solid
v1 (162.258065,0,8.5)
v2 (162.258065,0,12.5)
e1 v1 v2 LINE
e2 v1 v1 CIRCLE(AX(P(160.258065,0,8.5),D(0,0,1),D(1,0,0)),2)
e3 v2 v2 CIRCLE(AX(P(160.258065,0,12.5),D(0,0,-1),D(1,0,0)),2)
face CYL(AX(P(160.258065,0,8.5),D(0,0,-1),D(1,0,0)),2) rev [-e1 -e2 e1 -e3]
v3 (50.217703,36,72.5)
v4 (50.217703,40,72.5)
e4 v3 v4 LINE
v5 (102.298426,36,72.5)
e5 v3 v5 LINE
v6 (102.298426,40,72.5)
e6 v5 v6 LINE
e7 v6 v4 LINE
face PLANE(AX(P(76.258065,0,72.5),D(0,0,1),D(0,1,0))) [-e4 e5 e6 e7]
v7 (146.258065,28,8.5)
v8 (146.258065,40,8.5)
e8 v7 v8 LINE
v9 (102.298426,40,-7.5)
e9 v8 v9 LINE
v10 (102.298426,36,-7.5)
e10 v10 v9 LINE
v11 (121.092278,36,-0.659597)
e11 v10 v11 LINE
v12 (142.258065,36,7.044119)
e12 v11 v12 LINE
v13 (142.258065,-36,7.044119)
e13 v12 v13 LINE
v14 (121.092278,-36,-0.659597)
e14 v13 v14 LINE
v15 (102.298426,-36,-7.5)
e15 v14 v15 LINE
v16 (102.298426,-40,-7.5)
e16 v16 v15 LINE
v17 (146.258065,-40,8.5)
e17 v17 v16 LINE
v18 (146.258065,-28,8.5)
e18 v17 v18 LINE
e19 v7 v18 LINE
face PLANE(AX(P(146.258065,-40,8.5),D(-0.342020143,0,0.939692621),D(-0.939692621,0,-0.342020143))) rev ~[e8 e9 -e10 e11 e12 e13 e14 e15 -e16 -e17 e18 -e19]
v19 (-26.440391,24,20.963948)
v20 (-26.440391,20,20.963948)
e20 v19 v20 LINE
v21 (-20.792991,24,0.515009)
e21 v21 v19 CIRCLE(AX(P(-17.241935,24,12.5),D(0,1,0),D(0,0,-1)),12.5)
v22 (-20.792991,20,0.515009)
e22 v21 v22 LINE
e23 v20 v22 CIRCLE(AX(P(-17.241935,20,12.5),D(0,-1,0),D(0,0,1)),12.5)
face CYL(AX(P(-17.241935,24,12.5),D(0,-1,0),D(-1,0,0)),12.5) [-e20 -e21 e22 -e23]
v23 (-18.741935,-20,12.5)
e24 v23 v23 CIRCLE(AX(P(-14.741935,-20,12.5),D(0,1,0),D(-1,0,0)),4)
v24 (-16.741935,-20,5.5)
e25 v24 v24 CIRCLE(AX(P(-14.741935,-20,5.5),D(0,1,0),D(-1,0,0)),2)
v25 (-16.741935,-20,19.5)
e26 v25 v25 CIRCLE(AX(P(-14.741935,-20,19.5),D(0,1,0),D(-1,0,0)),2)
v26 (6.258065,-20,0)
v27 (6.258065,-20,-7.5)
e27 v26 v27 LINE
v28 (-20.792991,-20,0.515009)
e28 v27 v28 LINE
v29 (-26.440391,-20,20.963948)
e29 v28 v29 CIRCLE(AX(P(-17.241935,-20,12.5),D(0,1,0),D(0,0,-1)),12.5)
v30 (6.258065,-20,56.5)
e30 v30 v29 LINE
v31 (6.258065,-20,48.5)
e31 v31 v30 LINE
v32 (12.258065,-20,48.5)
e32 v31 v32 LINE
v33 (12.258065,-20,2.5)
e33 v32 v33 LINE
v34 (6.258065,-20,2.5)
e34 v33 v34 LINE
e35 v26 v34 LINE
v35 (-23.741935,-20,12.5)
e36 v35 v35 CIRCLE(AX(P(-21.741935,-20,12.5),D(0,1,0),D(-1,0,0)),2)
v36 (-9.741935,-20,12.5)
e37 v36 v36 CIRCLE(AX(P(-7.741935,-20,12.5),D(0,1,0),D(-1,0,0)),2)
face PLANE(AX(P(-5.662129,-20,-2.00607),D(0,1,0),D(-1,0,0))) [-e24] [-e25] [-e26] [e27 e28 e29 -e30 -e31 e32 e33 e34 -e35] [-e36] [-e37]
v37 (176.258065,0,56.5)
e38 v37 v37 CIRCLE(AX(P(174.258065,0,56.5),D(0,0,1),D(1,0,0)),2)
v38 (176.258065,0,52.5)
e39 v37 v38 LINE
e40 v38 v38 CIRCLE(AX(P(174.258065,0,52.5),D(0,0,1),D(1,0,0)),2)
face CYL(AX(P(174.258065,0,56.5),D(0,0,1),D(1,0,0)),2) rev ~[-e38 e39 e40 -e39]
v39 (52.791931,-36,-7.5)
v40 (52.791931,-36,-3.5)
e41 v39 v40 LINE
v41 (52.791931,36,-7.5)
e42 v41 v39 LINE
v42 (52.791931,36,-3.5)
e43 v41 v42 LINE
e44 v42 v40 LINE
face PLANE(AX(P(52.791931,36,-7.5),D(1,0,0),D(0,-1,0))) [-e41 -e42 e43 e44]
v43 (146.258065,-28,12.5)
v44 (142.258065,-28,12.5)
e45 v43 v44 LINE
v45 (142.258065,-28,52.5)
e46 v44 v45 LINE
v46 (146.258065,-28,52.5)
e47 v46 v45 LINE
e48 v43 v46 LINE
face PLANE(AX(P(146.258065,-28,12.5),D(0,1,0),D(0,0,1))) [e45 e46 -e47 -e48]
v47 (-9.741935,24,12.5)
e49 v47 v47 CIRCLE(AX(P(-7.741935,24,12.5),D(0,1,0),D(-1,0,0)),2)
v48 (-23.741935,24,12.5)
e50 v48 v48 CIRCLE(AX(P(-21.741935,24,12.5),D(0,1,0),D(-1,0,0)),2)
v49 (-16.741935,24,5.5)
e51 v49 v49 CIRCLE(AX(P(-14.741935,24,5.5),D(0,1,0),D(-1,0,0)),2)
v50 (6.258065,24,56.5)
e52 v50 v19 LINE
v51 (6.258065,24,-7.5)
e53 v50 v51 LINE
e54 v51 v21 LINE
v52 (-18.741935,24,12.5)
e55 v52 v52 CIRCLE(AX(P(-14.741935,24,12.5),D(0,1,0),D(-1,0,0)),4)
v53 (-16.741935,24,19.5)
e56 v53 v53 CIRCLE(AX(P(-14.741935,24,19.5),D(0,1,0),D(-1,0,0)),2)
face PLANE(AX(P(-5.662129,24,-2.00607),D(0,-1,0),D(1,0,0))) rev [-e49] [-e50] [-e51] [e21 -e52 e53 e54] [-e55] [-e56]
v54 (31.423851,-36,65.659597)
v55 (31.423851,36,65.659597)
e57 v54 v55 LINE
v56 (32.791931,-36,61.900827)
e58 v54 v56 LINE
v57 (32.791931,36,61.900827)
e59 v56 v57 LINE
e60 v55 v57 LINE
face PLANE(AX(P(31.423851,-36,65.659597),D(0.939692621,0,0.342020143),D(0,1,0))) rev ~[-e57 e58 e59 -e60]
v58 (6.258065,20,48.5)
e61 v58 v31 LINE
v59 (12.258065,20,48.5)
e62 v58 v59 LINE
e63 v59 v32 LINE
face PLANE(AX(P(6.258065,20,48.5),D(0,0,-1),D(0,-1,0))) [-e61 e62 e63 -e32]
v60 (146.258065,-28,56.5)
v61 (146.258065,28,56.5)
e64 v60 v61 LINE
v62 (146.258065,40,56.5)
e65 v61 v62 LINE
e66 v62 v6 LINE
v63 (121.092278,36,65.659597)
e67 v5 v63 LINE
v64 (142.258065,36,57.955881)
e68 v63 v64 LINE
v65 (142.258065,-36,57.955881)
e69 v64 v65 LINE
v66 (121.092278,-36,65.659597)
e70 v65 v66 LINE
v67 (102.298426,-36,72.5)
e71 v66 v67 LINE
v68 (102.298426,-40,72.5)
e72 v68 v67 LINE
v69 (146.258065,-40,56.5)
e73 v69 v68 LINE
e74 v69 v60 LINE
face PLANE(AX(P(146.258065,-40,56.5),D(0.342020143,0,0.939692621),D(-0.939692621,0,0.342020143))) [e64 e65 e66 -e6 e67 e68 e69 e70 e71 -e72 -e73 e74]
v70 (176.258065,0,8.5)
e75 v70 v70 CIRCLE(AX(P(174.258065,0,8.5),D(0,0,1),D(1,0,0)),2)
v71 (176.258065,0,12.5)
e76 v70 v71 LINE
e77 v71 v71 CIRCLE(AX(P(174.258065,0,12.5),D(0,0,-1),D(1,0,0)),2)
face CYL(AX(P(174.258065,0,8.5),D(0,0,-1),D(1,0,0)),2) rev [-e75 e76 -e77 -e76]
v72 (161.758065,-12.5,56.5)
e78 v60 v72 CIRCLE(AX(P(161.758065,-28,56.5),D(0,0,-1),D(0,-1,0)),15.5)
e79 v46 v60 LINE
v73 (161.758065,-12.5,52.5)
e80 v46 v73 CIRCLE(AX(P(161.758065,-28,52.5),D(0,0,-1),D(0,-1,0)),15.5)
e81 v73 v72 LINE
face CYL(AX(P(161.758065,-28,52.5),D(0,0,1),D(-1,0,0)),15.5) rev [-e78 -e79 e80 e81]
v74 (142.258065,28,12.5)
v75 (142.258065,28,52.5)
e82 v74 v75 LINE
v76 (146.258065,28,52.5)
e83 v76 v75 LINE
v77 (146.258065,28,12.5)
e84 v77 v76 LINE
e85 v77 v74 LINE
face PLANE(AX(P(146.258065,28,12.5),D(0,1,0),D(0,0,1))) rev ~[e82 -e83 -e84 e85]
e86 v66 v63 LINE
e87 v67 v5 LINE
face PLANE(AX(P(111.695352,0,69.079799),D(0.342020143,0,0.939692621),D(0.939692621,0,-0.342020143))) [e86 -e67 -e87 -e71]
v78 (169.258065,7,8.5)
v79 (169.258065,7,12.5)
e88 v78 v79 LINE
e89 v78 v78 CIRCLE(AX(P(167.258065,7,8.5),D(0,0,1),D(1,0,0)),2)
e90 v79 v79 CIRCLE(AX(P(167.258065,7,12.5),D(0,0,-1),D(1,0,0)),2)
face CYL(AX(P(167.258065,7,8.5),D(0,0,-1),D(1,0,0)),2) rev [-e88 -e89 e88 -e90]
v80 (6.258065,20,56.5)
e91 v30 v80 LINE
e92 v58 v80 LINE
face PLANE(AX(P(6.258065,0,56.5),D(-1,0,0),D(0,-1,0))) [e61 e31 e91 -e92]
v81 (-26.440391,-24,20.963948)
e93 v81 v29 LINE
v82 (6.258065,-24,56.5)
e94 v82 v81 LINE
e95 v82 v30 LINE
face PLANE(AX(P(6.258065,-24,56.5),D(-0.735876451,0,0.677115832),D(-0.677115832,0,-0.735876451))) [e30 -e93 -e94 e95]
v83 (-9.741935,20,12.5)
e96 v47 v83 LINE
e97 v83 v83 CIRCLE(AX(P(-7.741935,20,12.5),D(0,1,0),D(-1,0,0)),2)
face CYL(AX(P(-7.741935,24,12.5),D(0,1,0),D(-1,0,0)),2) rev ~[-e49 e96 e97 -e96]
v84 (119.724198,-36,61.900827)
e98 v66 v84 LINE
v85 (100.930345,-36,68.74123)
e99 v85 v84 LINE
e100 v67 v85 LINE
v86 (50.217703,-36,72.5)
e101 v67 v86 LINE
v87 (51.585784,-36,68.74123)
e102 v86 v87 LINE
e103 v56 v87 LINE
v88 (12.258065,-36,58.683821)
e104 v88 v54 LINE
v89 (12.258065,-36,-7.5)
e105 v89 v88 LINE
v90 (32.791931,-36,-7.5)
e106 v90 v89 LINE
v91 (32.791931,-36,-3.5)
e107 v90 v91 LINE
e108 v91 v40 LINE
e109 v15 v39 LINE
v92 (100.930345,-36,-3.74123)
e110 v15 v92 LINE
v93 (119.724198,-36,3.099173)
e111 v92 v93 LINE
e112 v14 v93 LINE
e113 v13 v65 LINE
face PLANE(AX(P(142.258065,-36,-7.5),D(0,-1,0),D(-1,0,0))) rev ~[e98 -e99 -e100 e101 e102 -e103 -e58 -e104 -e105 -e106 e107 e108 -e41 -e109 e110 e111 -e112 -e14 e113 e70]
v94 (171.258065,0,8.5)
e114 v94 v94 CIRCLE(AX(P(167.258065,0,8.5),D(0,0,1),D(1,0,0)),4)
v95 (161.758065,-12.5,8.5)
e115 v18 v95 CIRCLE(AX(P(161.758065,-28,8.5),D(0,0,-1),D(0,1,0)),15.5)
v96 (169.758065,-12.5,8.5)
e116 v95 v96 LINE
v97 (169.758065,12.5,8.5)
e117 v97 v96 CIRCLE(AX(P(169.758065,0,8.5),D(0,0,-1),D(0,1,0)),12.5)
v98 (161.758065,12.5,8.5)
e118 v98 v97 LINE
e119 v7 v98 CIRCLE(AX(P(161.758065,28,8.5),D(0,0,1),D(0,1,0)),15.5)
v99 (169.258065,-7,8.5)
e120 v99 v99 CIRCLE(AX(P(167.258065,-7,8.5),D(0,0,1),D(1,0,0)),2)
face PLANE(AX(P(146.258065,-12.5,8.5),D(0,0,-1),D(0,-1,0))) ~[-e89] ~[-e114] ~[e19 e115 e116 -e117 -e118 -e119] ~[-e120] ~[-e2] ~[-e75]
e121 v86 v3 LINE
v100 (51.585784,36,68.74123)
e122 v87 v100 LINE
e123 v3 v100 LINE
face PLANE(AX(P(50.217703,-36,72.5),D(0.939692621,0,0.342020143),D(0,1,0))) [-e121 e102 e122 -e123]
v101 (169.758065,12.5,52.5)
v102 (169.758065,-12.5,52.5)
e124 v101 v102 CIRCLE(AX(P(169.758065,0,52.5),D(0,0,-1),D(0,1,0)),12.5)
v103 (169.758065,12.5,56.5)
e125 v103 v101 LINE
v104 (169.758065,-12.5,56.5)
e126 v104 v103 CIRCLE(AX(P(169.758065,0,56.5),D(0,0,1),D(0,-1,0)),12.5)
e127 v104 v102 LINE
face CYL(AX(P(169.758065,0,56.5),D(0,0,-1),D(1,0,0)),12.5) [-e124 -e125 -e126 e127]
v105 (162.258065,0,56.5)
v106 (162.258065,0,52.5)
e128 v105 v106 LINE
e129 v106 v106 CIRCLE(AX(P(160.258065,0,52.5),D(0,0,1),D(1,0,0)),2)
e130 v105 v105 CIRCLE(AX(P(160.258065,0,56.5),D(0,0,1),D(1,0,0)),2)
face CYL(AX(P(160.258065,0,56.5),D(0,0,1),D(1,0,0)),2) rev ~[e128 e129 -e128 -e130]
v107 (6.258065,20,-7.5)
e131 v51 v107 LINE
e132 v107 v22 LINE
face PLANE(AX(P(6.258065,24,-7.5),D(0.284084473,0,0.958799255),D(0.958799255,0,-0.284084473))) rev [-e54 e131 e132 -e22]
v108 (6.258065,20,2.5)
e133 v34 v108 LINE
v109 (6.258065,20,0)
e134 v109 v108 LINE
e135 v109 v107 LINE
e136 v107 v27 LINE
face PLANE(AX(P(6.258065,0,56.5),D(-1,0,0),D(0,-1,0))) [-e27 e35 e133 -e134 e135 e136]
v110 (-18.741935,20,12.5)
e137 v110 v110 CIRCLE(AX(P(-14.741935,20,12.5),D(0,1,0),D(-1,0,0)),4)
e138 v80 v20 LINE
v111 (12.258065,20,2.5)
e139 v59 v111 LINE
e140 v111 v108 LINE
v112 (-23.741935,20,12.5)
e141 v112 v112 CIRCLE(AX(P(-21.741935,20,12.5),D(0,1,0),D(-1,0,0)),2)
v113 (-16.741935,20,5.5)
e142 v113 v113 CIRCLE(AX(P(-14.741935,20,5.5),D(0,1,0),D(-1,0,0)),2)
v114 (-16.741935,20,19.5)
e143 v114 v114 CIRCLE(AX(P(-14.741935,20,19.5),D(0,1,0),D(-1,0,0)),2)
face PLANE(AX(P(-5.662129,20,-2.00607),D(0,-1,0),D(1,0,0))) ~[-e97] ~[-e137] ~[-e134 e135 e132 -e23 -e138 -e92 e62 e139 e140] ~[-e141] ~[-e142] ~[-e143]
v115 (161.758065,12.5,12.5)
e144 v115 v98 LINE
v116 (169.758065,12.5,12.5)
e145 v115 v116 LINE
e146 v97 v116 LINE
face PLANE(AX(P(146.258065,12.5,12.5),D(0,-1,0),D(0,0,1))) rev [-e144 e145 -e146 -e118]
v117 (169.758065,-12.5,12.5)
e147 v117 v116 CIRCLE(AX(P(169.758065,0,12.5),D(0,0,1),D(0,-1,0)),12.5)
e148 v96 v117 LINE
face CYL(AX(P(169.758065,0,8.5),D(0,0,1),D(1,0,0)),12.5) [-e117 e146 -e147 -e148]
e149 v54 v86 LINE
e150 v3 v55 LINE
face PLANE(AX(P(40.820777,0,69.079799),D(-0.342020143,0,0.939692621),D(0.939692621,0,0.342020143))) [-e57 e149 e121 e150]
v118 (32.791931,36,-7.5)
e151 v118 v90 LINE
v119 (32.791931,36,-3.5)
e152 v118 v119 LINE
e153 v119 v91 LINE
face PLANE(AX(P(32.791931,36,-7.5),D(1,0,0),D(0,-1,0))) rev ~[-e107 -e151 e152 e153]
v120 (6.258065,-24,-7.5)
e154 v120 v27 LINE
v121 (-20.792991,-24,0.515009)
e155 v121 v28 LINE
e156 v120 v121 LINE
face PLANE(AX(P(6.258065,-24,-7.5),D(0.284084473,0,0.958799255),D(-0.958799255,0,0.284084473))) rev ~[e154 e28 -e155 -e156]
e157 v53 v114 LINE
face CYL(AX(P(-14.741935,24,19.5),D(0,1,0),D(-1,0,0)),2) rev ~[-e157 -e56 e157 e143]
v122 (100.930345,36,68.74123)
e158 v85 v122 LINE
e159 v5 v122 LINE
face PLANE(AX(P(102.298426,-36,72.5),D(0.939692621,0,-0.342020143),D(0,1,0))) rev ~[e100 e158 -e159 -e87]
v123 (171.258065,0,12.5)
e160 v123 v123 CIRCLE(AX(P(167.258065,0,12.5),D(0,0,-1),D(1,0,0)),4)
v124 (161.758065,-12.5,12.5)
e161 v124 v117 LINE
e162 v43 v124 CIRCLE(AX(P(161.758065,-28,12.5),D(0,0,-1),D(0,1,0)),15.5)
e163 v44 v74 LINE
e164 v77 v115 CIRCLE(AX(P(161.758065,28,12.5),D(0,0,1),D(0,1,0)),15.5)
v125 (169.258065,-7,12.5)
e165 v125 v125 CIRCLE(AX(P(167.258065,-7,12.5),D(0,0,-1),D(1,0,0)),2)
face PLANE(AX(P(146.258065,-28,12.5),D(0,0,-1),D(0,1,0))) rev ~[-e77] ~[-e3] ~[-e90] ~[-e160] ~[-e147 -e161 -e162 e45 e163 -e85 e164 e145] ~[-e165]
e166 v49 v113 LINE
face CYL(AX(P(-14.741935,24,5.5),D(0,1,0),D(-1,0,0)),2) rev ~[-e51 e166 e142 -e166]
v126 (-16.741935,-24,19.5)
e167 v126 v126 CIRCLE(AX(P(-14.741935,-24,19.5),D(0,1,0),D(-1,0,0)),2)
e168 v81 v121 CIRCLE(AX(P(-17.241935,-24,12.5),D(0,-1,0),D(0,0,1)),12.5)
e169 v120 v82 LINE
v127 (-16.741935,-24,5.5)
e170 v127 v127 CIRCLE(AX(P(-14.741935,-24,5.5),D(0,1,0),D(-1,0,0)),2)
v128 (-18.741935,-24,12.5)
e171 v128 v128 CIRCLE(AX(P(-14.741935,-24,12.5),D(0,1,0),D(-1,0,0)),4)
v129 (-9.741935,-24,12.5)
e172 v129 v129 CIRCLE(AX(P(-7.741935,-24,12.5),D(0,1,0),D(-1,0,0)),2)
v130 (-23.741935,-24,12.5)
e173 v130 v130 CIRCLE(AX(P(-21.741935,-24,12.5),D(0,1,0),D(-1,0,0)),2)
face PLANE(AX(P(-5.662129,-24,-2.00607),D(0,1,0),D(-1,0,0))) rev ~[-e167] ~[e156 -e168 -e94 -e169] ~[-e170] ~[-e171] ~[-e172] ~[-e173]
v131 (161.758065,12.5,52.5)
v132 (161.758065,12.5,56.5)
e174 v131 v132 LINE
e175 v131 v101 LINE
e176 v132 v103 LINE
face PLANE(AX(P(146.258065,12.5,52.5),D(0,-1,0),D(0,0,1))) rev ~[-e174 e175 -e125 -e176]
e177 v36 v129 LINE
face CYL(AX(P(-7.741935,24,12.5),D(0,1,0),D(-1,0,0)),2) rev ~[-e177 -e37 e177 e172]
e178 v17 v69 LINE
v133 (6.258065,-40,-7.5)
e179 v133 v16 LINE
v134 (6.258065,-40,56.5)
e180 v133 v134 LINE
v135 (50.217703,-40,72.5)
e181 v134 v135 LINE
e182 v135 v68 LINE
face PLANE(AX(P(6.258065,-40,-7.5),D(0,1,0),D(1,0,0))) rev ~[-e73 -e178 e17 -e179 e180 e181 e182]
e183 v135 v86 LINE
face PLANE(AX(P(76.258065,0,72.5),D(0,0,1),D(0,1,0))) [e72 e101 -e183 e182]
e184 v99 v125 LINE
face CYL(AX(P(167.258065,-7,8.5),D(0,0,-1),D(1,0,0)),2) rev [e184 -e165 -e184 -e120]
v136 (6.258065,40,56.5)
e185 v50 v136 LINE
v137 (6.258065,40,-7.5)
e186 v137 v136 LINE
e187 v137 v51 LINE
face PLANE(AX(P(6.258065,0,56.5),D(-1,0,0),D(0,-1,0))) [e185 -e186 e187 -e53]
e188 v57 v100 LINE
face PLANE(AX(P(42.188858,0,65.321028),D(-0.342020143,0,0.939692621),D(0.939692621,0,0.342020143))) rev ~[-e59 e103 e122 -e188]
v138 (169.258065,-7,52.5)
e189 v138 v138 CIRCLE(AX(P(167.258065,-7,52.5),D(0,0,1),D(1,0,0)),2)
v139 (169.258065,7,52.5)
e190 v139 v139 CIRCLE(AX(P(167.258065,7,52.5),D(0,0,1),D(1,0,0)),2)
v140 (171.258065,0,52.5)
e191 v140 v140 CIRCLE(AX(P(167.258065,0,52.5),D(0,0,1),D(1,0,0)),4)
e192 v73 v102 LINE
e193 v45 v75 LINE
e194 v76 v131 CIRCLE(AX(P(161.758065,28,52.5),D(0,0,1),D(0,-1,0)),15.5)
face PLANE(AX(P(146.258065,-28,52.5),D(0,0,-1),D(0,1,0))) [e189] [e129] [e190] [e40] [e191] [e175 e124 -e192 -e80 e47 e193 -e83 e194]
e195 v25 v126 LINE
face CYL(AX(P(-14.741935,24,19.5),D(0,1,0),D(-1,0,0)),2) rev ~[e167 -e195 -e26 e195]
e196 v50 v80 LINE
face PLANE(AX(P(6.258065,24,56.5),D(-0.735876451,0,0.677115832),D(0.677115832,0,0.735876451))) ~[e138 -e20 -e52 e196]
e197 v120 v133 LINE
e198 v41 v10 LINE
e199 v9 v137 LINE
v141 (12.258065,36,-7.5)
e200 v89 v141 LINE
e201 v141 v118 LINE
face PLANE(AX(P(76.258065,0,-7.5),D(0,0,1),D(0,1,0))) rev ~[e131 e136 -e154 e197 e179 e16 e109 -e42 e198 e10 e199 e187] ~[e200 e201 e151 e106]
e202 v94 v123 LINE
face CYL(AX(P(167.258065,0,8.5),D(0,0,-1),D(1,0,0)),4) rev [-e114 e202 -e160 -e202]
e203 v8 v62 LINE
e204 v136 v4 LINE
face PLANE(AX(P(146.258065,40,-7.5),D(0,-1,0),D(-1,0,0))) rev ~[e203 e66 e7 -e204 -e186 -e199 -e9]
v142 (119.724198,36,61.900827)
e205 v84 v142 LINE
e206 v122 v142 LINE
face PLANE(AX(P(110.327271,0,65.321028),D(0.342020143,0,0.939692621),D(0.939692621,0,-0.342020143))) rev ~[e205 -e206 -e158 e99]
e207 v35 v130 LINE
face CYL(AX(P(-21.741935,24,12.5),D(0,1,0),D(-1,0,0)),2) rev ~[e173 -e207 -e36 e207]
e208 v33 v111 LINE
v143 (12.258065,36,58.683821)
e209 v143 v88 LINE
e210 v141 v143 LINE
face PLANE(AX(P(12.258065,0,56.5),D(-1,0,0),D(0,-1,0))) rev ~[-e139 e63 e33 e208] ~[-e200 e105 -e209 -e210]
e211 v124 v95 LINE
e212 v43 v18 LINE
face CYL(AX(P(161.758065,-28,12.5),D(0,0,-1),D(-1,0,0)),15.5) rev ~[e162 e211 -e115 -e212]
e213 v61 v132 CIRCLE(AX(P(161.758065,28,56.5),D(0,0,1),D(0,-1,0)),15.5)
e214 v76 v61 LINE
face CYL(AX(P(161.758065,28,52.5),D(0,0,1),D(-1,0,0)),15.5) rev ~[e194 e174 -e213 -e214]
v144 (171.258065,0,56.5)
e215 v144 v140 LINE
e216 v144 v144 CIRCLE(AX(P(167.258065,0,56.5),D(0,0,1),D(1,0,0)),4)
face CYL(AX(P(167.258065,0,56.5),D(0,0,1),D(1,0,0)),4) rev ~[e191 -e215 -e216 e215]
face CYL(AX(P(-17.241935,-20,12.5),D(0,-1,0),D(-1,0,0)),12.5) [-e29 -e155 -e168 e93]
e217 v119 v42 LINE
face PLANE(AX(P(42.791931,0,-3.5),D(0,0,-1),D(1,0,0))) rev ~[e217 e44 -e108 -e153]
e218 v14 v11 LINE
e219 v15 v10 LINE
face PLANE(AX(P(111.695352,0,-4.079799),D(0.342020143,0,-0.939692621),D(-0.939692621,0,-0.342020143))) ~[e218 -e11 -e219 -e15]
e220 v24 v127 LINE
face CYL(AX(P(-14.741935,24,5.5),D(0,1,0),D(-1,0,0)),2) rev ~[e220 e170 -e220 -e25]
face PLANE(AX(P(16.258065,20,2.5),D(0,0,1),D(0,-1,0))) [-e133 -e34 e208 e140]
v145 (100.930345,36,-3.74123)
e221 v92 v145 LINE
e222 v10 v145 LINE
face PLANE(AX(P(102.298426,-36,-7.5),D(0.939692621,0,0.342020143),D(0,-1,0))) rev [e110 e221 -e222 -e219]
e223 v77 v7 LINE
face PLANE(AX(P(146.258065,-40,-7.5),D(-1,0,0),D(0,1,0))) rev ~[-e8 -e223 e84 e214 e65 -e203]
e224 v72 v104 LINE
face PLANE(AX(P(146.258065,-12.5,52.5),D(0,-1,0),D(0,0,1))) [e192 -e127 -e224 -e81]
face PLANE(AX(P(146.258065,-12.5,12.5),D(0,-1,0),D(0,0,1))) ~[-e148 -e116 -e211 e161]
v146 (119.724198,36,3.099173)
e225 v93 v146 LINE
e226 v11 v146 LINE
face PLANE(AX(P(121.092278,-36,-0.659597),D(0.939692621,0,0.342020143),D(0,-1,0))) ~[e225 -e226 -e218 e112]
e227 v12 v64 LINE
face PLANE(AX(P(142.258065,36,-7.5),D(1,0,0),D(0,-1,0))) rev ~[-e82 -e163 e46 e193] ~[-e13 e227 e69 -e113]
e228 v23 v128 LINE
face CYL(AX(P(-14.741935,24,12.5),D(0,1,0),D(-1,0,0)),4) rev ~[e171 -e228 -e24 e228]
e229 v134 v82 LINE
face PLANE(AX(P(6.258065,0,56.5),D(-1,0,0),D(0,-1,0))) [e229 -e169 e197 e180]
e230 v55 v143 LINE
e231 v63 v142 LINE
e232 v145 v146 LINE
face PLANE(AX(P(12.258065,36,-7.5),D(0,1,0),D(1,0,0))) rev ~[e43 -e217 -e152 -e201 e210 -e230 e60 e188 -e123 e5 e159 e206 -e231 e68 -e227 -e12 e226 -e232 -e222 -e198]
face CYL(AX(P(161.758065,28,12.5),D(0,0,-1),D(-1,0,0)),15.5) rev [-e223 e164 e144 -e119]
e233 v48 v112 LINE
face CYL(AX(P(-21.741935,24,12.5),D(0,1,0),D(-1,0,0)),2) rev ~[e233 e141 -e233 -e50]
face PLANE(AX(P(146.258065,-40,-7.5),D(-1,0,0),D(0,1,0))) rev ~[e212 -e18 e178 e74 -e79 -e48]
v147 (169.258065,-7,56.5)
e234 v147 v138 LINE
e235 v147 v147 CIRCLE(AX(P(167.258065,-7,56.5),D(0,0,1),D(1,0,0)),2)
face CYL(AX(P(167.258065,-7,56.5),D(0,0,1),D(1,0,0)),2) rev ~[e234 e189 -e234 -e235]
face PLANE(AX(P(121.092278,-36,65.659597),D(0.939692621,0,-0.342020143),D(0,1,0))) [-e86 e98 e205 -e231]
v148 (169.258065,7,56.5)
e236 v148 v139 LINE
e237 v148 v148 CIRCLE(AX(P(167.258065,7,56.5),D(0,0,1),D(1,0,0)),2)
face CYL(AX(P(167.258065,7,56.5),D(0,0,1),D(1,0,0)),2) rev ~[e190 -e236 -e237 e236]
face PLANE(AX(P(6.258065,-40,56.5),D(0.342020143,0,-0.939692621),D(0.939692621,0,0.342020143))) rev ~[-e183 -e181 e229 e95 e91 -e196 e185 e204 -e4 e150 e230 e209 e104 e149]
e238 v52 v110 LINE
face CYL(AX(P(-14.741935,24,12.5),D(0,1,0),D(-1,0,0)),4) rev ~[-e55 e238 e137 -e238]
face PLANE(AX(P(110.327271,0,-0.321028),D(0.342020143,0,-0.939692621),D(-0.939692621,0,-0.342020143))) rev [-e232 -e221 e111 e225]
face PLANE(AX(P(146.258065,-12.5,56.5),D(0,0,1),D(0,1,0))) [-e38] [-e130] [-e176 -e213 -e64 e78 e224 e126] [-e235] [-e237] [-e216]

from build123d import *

# Parameters (mm, degrees)
SALIENTE_EXTRUIR1_DEPTH         = 25
CORTAR_EXTRUIR1_REACH           = 63.754
CROQUIS3_R                      = 4
CROQUIS3_R_2                    = 2
CROQUIS4_W                      = 32
CROQUIS4_H                      = 24.152956225
CORTAR_EXTRUIR2_DEPTH           = 40
SALIENTE_EXTRUIR3_DEPTH         = 72.5
SALIENTE_EXTRUIR3_DEPTH_BACK    = 7.5
CORTAR_EXTRUIR4_DEPTH           = 10
CORTAR_EXTRUIR4_DEPTH_BACK      = 10
CROQUIS8_W                      = 40
CROQUIS8_H                      = 62
REDONDEO1_RADIUS                = 12.5
REDONDEO1_LENGTH                = 4
REDONDEO2_RADIUS                = 12.5
REDONDEO2_LENGTH                = 4
CROQUIS9_W                      = 25
CROQUIS9_H                      = 4
SALIENTE_EXTRUIR4_DEPTH         = 36
CROQUIS10_R                     = 4
CROQUIS10_R_2                   = 2
CORTAR_EXTRUIR5_DEPTH           = 36
REDONDEO3_RADIUS                = 12.5
REDONDEO3_LENGTH                = 4
REDONDEO3_OF_SIMETR_A1_2_RADIUS = 12.5
REDONDEO3_OF_SIMETR_A1_2_LENGTH = 4
CROQUIS11_W                     = 56
CROQUIS11_H                     = 40
CORTAR_EXTRUIR6_DEPTH           = 36
CROQUIS16_W                     = 40
CROQUIS16_H                     = 16
SALIENTE_EXTRUIR6_DEPTH         = 6
CORTAR_EXTRUIR7_REACH           = 213.835
CROQUIS17_W                     = 20
CROQUIS17_H                     = 72
SALIENTE_EXTRUIR7_DEPTH         = 4
SALIENTE_EXTRUIR8_DEPTH         = 4
CROQUIS23_W                     = 7.762522615
CROQUIS23_H                     = 40
CORTAR_EXTRUIR8_DEPTH           = 10
CROQUIS20_W                     = 20
CROQUIS20_H                     = 72
SALIENTE_EXTRUIR9_DEPTH         = 4
REDONDEO4_R                     = 15.5
CROQUIS24_W                     = 20
CROQUIS24_H                     = 72
SALIENTE_EXTRUIR10_DEPTH        = 4


with BuildPart() as part:
    # Croquis2 → Saliente-Extruir1 (new body)
    with BuildSketch(Plane(origin=(0, 0, 0), x_dir=(0, 1, 0), z_dir=(0, 0, 1))):
        Polygon((-20, 29.741935484), (-24, 29.741935484), (-24, -6.258064516), (24, -6.258064516), (24, 29.741935484), (20, 29.741935484), (20, -4.258064516), (-20, -4.258064516), align=None)
    extrude(amount=SALIENTE_EXTRUIR1_DEPTH)

    # Cortar-Extruir1: up to this face of the body (flat: up to its plane)
    cortar_extruir1_end = Plane(part.part.faces().sort_by_distance((-11.741935484, -24, 12.5))[0])
    # Croquis3 → Cortar-Extruir1 (cut, up to the picked face)
    with BuildSketch(Plane(origin=(0, 24, 0), x_dir=(-1, 0, 0), z_dir=(0, 1, 0)), mode=Mode.PRIVATE) as cortar_extruir1_sk1:
        with Locations((14.741935484, 12.5)):
            Circle(CROQUIS3_R)
    cortar_extruir1_tool1 = split(extrude(cortar_extruir1_sk1.sketch, amount=-CORTAR_EXTRUIR1_REACH, mode=Mode.PRIVATE), bisect_by=cortar_extruir1_end, keep=Keep.BOTH, mode=Mode.PRIVATE)
    # Croquis3 → Cortar-Extruir1 (cut, up to the picked face)
    with BuildSketch(Plane(origin=(0, 24, 0), x_dir=(-1, 0, 0), z_dir=(0, 1, 0)), mode=Mode.PRIVATE) as cortar_extruir1_sk2:
        with Locations((14.741935484, 19.5)):
            Circle(CROQUIS3_R_2)
    cortar_extruir1_tool2 = split(extrude(cortar_extruir1_sk2.sketch, amount=-CORTAR_EXTRUIR1_REACH, mode=Mode.PRIVATE), bisect_by=cortar_extruir1_end, keep=Keep.BOTH, mode=Mode.PRIVATE)
    # Croquis3 → Cortar-Extruir1 (cut, up to the picked face)
    with BuildSketch(Plane(origin=(0, 24, 0), x_dir=(-1, 0, 0), z_dir=(0, 1, 0)), mode=Mode.PRIVATE) as cortar_extruir1_sk3:
        with Locations((21.741935484, 12.5)):
            Circle(CROQUIS3_R_2)
    cortar_extruir1_tool3 = split(extrude(cortar_extruir1_sk3.sketch, amount=-CORTAR_EXTRUIR1_REACH, mode=Mode.PRIVATE), bisect_by=cortar_extruir1_end, keep=Keep.BOTH, mode=Mode.PRIVATE)
    # Croquis3 → Cortar-Extruir1 (cut, up to the picked face)
    with BuildSketch(Plane(origin=(0, 24, 0), x_dir=(-1, 0, 0), z_dir=(0, 1, 0)), mode=Mode.PRIVATE) as cortar_extruir1_sk4:
        with Locations((14.741935484, 5.5)):
            Circle(CROQUIS3_R_2)
    cortar_extruir1_tool4 = split(extrude(cortar_extruir1_sk4.sketch, amount=-CORTAR_EXTRUIR1_REACH, mode=Mode.PRIVATE), bisect_by=cortar_extruir1_end, keep=Keep.BOTH, mode=Mode.PRIVATE)
    # Croquis3 → Cortar-Extruir1 (cut, up to the picked face)
    with BuildSketch(Plane(origin=(0, 24, 0), x_dir=(-1, 0, 0), z_dir=(0, 1, 0)), mode=Mode.PRIVATE) as cortar_extruir1_sk5:
        with Locations((7.741935484, 12.5)):
            Circle(CROQUIS3_R_2)
    cortar_extruir1_tool5 = split(extrude(cortar_extruir1_sk5.sketch, amount=-CORTAR_EXTRUIR1_REACH, mode=Mode.PRIVATE), bisect_by=cortar_extruir1_end, keep=Keep.BOTH, mode=Mode.PRIVATE)
    add(cortar_extruir1_tool1.solids().sort_by(Axis((-14.741935, 24, 12.5), (0, -1, 0)))[0], mode=Mode.SUBTRACT)
    add(cortar_extruir1_tool2.solids().sort_by(Axis((-14.741935, 24, 19.5), (0, -1, 0)))[0], mode=Mode.SUBTRACT)
    add(cortar_extruir1_tool3.solids().sort_by(Axis((-21.741935, 24, 12.5), (0, -1, 0)))[0], mode=Mode.SUBTRACT)
    add(cortar_extruir1_tool4.solids().sort_by(Axis((-14.741935, 24, 5.5), (0, -1, 0)))[0], mode=Mode.SUBTRACT)
    add(cortar_extruir1_tool5.solids().sort_by(Axis((-7.741935, 24, 12.5), (0, -1, 0)))[0], mode=Mode.SUBTRACT)

    # Croquis4 → Cortar-Extruir2 (cut)
    with BuildSketch(Plane.YZ.offset(6.258064516)):
        with Locations((0, 14.576478113)):
            Rectangle(CROQUIS4_W, CROQUIS4_H)
    extrude(amount=-CORTAR_EXTRUIR2_DEPTH, mode=Mode.SUBTRACT)

    # Croquis5 → Saliente-Extruir3 (add, two sides: drawn at the far end of the back side and taken through both)
    # profile 1 of 2: a face of its own
    with BuildSketch(Plane(origin=(0, 0, 0), x_dir=(0, 1, 0), z_dir=(0, 0, 1)).offset(-SALIENTE_EXTRUIR3_DEPTH_BACK)):
        Polygon((-24, -6.258064516), (-40, -6.258064516), (-40, -10.258064516), (-40, -146.258064516), (-36, -146.258064516), (36, -146.258064516), (40, -146.258064516), (40, -10.258064516), (40, -6.258064516), (24, -6.258064516), (0, -6.258064516), align=None)
        Polygon((-36, -12.258064516), (0, -12.258064516), (36, -12.258064516), (36, -142.258064516), (-36, -142.258064516), align=None, mode=Mode.SUBTRACT)
    # profile 2 of 2: a face of its own
    with BuildSketch(Plane(origin=(0, 0, 0), x_dir=(0, 1, 0), z_dir=(0, 0, 1)).offset(-SALIENTE_EXTRUIR3_DEPTH_BACK)):
        Polygon((-24, -6.258064516), (-40, -6.258064516), (-40, -10.258064516), (-40, -146.258064516), (-36, -146.258064516), (36, -146.258064516), (40, -146.258064516), (40, -10.258064516), (40, -6.258064516), (24, -6.258064516), (0, -6.258064516), align=None)
        Polygon((-36, -12.258064516), (0, -12.258064516), (36, -12.258064516), (36, -142.258064516), (-36, -142.258064516), align=None, mode=Mode.SUBTRACT)
    extrude(amount=SALIENTE_EXTRUIR3_DEPTH + SALIENTE_EXTRUIR3_DEPTH_BACK)

    # Croquis8 → Cortar-Extruir4 (cut, two sides: drawn at the far end of the back side and taken through both)
    with BuildSketch(Plane(origin=(6.258064516, 0, 0), x_dir=(0, -1, 0), z_dir=(-1, 0, 0)).offset(-CORTAR_EXTRUIR4_DEPTH_BACK)):
        with Locations((0, 33.5)):
            Rectangle(CROQUIS8_W, CROQUIS8_H)
    extrude(amount=CORTAR_EXTRUIR4_DEPTH + CORTAR_EXTRUIR4_DEPTH_BACK, mode=Mode.SUBTRACT)

    # Redondeo1: full round fillet: the end face becomes a half cylinder, R = half its width
    redondeo1_face = Plane((-29.741935484, 22, 12.5), x_dir=(0, -1, 0), z_dir=(-1, 0, 0))  # on the end face: x along it, z out of the body
    redondeo1_slab = redondeo1_face.offset(-REDONDEO1_RADIUS / 2) * Box(REDONDEO1_LENGTH, 2 * REDONDEO1_RADIUS, REDONDEO1_RADIUS, mode=Mode.PRIVATE)  # the body's end, R deep
    redondeo1_round = Plane((-17.241935484, 22, 12.5), x_dir=(-1, 0, 0), z_dir=(0, -1, 0)) * Cylinder(REDONDEO1_RADIUS, REDONDEO1_LENGTH, mode=Mode.PRIVATE)  # its axis R under the face
    add(redondeo1_slab - redondeo1_round, mode=Mode.SUBTRACT)

    # Redondeo2: full round fillet: the end face becomes a half cylinder, R = half its width
    redondeo2_face = Plane((-29.741935484, -22, 12.5), x_dir=(0, -1, 0), z_dir=(-1, 0, 0))  # on the end face: x along it, z out of the body
    redondeo2_slab = redondeo2_face.offset(-REDONDEO2_RADIUS / 2) * Box(REDONDEO2_LENGTH, 2 * REDONDEO2_RADIUS, REDONDEO2_RADIUS, mode=Mode.PRIVATE)  # the body's end, R deep
    redondeo2_round = Plane((-17.241935484, -22, 12.5), x_dir=(-1, 0, 0), z_dir=(0, -1, 0)) * Cylinder(REDONDEO2_RADIUS, REDONDEO2_LENGTH, mode=Mode.PRIVATE)  # its axis R under the face
    add(redondeo2_slab - redondeo2_round, mode=Mode.SUBTRACT)

    # Croquis9 → Saliente-Extruir4 (add)
    with BuildSketch(Plane.YZ.offset(146.258064516)):
        with Locations((0, 54.5)):
            Rectangle(CROQUIS9_W, CROQUIS9_H)
    saliente_extruir4 = extrude(amount=SALIENTE_EXTRUIR4_DEPTH)

    # Croquis10 → Cortar-Extruir5 (cut)
    with BuildSketch(Plane.XY.offset(56.5)):
        with Locations((167.258064516, 0)):
            Circle(CROQUIS10_R)
        with Locations((167.258064516, 7)):
            Circle(CROQUIS10_R_2)
        with Locations((174.258064516, 0)):
            Circle(CROQUIS10_R_2)
        with Locations((167.258064516, -7)):
            Circle(CROQUIS10_R_2)
        with Locations((160.258064516, 0)):
            Circle(CROQUIS10_R_2)
    cortar_extruir5 = extrude(amount=-CORTAR_EXTRUIR5_DEPTH, mode=Mode.SUBTRACT)

    # Redondeo3: full round fillet: the end face becomes a half cylinder, R = half its width
    redondeo3_face = Plane((182.258064516, 0, 54.5), x_dir=(0, 0, -1), z_dir=(1, 0, 0))  # on the end face: x along it, z out of the body
    redondeo3_slab = redondeo3_face.offset(-REDONDEO3_RADIUS / 2) * Box(REDONDEO3_LENGTH, 2 * REDONDEO3_RADIUS, REDONDEO3_RADIUS, mode=Mode.PRIVATE)  # the body's end, R deep
    redondeo3_round = Plane((169.758064516, 0, 54.5), x_dir=(1, 0, 0), z_dir=(0, 0, -1)) * Cylinder(REDONDEO3_RADIUS, REDONDEO3_LENGTH, mode=Mode.PRIVATE)  # its axis R under the face
    add(redondeo3_slab - redondeo3_round, mode=Mode.SUBTRACT)

    # Simetría1: Saliente-Extruir4, Cortar-Extruir5 across plane
    add(saliente_extruir4.mirror(Plane(origin=(0, 0, 32.5), x_dir=(1, 0, 0), z_dir=(0, 0, -1))))
    add(cortar_extruir5.mirror(Plane(origin=(0, 0, 32.5), x_dir=(1, 0, 0), z_dir=(0, 0, -1))), mode=Mode.SUBTRACT)

    # Redondeo3 of Simetr_a1 2: full round fillet: the end face becomes a half cylinder, R = half its width
    redondeo3_of_simetr_a1_2_face = Plane((182.258064516, 0, 10.5), x_dir=(0, 0, 1), z_dir=(1, 0, 0))  # on the end face: x along it, z out of the body
    redondeo3_of_simetr_a1_2_slab = redondeo3_of_simetr_a1_2_face.offset(-REDONDEO3_OF_SIMETR_A1_2_RADIUS / 2) * Box(REDONDEO3_OF_SIMETR_A1_2_LENGTH, 2 * REDONDEO3_OF_SIMETR_A1_2_RADIUS, REDONDEO3_OF_SIMETR_A1_2_RADIUS, mode=Mode.PRIVATE)  # the body's end, R deep
    redondeo3_of_simetr_a1_2_round = Plane((169.758064516, 0, 10.5), x_dir=(1, 0, 0), z_dir=(0, 0, 1)) * Cylinder(REDONDEO3_OF_SIMETR_A1_2_RADIUS, REDONDEO3_OF_SIMETR_A1_2_LENGTH, mode=Mode.PRIVATE)  # its axis R under the face
    add(redondeo3_of_simetr_a1_2_slab - redondeo3_of_simetr_a1_2_round, mode=Mode.SUBTRACT)

    # Croquis11 → Cortar-Extruir6 (cut)
    with BuildSketch(Plane.YZ.offset(146.258064516)):
        with Locations((0, 32.5)):
            Rectangle(CROQUIS11_W, CROQUIS11_H)
    extrude(amount=-CORTAR_EXTRUIR6_DEPTH, mode=Mode.SUBTRACT)

    # Croquis16 → Saliente-Extruir6 (add)
    with BuildSketch(Plane(origin=(6.258064516, 0, 0), x_dir=(0, -1, 0), z_dir=(-1, 0, 0))):
        with Locations((0, 56.5)):
            Rectangle(CROQUIS16_W, CROQUIS16_H)
    extrude(amount=-SALIENTE_EXTRUIR6_DEPTH)

    # Cortar-Extruir7: up to this face of the body (flat: up to its plane)
    cortar_extruir7_end = Plane(part.part.faces().sort_by_distance((76.258064516, 40, 32.5))[0])
    # Croquis13 → Cortar-Extruir7 (cut, up to the picked face)
    with BuildSketch(Plane.XZ.offset(40), mode=Mode.PRIVATE) as cortar_extruir7_sk1:
        Polygon((146.258064516, 56.5), (102.298425805, 72.5), (129.909854681, 81.687925148), (158.719324771, 75.301589413), align=None)
    cortar_extruir7_tool1 = split(extrude(cortar_extruir7_sk1.sketch, amount=-CORTAR_EXTRUIR7_REACH, mode=Mode.PRIVATE), bisect_by=cortar_extruir7_end, keep=Keep.BOTH, mode=Mode.PRIVATE)
    # Croquis13 → Cortar-Extruir7 (cut, up to the picked face)
    with BuildSketch(Plane.XZ.offset(40), mode=Mode.PRIVATE) as cortar_extruir7_sk2:
        Polygon((129.909854681, -16.687925148), (158.719324771, -10.301589413), (146.258064516, 8.5), (102.298425805, -7.5), align=None)
    cortar_extruir7_tool2 = split(extrude(cortar_extruir7_sk2.sketch, amount=-CORTAR_EXTRUIR7_REACH, mode=Mode.PRIVATE), bisect_by=cortar_extruir7_end, keep=Keep.BOTH, mode=Mode.PRIVATE)
    # Croquis13 → Cortar-Extruir7 (cut, up to the picked face)
    with BuildSketch(Plane.XZ.offset(40), mode=Mode.PRIVATE) as cortar_extruir7_sk3:
        Polygon((22.606274351, 81.687925148), (-6.203195739, 75.301589413), (6.258064516, 56.5), (50.217703227, 72.5), align=None)
    cortar_extruir7_tool3 = split(extrude(cortar_extruir7_sk3.sketch, amount=-CORTAR_EXTRUIR7_REACH, mode=Mode.PRIVATE), bisect_by=cortar_extruir7_end, keep=Keep.BOTH, mode=Mode.PRIVATE)
    add(cortar_extruir7_tool1.solids().sort_by(Axis((134.120228, -40, 70.624801), (0, 1, 0)))[0], mode=Mode.SUBTRACT)
    add(cortar_extruir7_tool2.solids().sort_by(Axis((134.120228, -40, -5.624801), (0, 1, 0)))[0], mode=Mode.SUBTRACT)
    add(cortar_extruir7_tool3.solids().sort_by(Axis((18.395901, -40, 70.624801), (0, 1, 0)))[0], mode=Mode.SUBTRACT)

    # Croquis17 → Saliente-Extruir7 (add)
    with BuildSketch(Plane(origin=(35.26769344, 0, 96.897191362), x_dir=(0.9396926207859081, 0, -0.3420201433256698), z_dir=(0.3420201433256698, 0, 0.9396926207859081))):
        with Locations((81.332615456, 0)):
            Rectangle(CROQUIS17_W, CROQUIS17_H)
    saliente_extruir7 = extrude(amount=-SALIENTE_EXTRUIR7_DEPTH)

    # Simetría2: Saliente-Extruir7 across plane
    add(saliente_extruir7.mirror(Plane(origin=(0, 0, 32.5), x_dir=(1, 0, 0), z_dir=(0, 0, -1))))

    # Croquis18 → Saliente-Extruir8 (add)
    with BuildSketch(Plane.XZ.offset(24)):
        with BuildLine():
            Line((6.258064516, 0), (6.258064516, -2.578475779))
            Line((6.258064516, -2.578475779), (6.258064516, -7.5))
            Line((6.258064516, -7.5), (-20.792991393, 0.515009306))
            ThreePointArc((-20.792991393, 0.515009306), (-19.036039206, 0.129422332), (-17.241935484, 0))
            Line((-17.241935484, 0), (6.258064516, 0))
        make_face()
        Polygon((6.258064516, 56.5), (-26.440391117, 20.963947895), (6.258064516, 25), align=None)
    saliente_extruir8 = extrude(amount=-SALIENTE_EXTRUIR8_DEPTH)

    # Simetría3: Saliente-Extruir8 across plane
    add(saliente_extruir8.mirror(Plane.ZX))

    # Croquis23 → Cortar-Extruir8 (cut)
    with BuildSketch(Plane(origin=(0, 0, 0), x_dir=(1, 0, 0), z_dir=(0, 0, -1))):
        with Locations((2.376803209, 0)):
            Rectangle(CROQUIS23_W, CROQUIS23_H)
    extrude(amount=-CORTAR_EXTRUIR8_DEPTH, mode=Mode.SUBTRACT)

    # Croquis20 → Saliente-Extruir9 (add)
    with BuildSketch(Plane(origin=(-17.426695489, 0, 47.879452352), x_dir=(0.939692620785908, 0, 0.34202014332566977), z_dir=(-0.34202014332566977, 0, 0.9396926207859081))):
        with Locations((61.985665547, 0)):
            Rectangle(CROQUIS20_W, CROQUIS20_H)
    extrude(amount=-SALIENTE_EXTRUIR9_DEPTH)

    # Redondeo4
    redondeo4_edges = [part.edges().sort_by_distance(p)[0] for p in [
        (146.258064516, -12.5, 54.5),
        (146.258064516, 12.5, 54.5),
        (146.258064516, -12.5, 10.5),
        (146.258064516, 12.5, 10.5),
    ]]
    fillet(redondeo4_edges, radius=REDONDEO4_R)

    # Croquis24 → Saliente-Extruir10 (add)
    with BuildSketch(Plane(origin=(0, 0, -7.5), x_dir=(1, 0, 0), z_dir=(0, 0, -1))):
        with Locations((42.791931385, 0)):
            Rectangle(CROQUIS24_W, CROQUIS24_H)
    extrude(amount=-SALIENTE_EXTRUIR10_DEPTH)


solid = part.part
